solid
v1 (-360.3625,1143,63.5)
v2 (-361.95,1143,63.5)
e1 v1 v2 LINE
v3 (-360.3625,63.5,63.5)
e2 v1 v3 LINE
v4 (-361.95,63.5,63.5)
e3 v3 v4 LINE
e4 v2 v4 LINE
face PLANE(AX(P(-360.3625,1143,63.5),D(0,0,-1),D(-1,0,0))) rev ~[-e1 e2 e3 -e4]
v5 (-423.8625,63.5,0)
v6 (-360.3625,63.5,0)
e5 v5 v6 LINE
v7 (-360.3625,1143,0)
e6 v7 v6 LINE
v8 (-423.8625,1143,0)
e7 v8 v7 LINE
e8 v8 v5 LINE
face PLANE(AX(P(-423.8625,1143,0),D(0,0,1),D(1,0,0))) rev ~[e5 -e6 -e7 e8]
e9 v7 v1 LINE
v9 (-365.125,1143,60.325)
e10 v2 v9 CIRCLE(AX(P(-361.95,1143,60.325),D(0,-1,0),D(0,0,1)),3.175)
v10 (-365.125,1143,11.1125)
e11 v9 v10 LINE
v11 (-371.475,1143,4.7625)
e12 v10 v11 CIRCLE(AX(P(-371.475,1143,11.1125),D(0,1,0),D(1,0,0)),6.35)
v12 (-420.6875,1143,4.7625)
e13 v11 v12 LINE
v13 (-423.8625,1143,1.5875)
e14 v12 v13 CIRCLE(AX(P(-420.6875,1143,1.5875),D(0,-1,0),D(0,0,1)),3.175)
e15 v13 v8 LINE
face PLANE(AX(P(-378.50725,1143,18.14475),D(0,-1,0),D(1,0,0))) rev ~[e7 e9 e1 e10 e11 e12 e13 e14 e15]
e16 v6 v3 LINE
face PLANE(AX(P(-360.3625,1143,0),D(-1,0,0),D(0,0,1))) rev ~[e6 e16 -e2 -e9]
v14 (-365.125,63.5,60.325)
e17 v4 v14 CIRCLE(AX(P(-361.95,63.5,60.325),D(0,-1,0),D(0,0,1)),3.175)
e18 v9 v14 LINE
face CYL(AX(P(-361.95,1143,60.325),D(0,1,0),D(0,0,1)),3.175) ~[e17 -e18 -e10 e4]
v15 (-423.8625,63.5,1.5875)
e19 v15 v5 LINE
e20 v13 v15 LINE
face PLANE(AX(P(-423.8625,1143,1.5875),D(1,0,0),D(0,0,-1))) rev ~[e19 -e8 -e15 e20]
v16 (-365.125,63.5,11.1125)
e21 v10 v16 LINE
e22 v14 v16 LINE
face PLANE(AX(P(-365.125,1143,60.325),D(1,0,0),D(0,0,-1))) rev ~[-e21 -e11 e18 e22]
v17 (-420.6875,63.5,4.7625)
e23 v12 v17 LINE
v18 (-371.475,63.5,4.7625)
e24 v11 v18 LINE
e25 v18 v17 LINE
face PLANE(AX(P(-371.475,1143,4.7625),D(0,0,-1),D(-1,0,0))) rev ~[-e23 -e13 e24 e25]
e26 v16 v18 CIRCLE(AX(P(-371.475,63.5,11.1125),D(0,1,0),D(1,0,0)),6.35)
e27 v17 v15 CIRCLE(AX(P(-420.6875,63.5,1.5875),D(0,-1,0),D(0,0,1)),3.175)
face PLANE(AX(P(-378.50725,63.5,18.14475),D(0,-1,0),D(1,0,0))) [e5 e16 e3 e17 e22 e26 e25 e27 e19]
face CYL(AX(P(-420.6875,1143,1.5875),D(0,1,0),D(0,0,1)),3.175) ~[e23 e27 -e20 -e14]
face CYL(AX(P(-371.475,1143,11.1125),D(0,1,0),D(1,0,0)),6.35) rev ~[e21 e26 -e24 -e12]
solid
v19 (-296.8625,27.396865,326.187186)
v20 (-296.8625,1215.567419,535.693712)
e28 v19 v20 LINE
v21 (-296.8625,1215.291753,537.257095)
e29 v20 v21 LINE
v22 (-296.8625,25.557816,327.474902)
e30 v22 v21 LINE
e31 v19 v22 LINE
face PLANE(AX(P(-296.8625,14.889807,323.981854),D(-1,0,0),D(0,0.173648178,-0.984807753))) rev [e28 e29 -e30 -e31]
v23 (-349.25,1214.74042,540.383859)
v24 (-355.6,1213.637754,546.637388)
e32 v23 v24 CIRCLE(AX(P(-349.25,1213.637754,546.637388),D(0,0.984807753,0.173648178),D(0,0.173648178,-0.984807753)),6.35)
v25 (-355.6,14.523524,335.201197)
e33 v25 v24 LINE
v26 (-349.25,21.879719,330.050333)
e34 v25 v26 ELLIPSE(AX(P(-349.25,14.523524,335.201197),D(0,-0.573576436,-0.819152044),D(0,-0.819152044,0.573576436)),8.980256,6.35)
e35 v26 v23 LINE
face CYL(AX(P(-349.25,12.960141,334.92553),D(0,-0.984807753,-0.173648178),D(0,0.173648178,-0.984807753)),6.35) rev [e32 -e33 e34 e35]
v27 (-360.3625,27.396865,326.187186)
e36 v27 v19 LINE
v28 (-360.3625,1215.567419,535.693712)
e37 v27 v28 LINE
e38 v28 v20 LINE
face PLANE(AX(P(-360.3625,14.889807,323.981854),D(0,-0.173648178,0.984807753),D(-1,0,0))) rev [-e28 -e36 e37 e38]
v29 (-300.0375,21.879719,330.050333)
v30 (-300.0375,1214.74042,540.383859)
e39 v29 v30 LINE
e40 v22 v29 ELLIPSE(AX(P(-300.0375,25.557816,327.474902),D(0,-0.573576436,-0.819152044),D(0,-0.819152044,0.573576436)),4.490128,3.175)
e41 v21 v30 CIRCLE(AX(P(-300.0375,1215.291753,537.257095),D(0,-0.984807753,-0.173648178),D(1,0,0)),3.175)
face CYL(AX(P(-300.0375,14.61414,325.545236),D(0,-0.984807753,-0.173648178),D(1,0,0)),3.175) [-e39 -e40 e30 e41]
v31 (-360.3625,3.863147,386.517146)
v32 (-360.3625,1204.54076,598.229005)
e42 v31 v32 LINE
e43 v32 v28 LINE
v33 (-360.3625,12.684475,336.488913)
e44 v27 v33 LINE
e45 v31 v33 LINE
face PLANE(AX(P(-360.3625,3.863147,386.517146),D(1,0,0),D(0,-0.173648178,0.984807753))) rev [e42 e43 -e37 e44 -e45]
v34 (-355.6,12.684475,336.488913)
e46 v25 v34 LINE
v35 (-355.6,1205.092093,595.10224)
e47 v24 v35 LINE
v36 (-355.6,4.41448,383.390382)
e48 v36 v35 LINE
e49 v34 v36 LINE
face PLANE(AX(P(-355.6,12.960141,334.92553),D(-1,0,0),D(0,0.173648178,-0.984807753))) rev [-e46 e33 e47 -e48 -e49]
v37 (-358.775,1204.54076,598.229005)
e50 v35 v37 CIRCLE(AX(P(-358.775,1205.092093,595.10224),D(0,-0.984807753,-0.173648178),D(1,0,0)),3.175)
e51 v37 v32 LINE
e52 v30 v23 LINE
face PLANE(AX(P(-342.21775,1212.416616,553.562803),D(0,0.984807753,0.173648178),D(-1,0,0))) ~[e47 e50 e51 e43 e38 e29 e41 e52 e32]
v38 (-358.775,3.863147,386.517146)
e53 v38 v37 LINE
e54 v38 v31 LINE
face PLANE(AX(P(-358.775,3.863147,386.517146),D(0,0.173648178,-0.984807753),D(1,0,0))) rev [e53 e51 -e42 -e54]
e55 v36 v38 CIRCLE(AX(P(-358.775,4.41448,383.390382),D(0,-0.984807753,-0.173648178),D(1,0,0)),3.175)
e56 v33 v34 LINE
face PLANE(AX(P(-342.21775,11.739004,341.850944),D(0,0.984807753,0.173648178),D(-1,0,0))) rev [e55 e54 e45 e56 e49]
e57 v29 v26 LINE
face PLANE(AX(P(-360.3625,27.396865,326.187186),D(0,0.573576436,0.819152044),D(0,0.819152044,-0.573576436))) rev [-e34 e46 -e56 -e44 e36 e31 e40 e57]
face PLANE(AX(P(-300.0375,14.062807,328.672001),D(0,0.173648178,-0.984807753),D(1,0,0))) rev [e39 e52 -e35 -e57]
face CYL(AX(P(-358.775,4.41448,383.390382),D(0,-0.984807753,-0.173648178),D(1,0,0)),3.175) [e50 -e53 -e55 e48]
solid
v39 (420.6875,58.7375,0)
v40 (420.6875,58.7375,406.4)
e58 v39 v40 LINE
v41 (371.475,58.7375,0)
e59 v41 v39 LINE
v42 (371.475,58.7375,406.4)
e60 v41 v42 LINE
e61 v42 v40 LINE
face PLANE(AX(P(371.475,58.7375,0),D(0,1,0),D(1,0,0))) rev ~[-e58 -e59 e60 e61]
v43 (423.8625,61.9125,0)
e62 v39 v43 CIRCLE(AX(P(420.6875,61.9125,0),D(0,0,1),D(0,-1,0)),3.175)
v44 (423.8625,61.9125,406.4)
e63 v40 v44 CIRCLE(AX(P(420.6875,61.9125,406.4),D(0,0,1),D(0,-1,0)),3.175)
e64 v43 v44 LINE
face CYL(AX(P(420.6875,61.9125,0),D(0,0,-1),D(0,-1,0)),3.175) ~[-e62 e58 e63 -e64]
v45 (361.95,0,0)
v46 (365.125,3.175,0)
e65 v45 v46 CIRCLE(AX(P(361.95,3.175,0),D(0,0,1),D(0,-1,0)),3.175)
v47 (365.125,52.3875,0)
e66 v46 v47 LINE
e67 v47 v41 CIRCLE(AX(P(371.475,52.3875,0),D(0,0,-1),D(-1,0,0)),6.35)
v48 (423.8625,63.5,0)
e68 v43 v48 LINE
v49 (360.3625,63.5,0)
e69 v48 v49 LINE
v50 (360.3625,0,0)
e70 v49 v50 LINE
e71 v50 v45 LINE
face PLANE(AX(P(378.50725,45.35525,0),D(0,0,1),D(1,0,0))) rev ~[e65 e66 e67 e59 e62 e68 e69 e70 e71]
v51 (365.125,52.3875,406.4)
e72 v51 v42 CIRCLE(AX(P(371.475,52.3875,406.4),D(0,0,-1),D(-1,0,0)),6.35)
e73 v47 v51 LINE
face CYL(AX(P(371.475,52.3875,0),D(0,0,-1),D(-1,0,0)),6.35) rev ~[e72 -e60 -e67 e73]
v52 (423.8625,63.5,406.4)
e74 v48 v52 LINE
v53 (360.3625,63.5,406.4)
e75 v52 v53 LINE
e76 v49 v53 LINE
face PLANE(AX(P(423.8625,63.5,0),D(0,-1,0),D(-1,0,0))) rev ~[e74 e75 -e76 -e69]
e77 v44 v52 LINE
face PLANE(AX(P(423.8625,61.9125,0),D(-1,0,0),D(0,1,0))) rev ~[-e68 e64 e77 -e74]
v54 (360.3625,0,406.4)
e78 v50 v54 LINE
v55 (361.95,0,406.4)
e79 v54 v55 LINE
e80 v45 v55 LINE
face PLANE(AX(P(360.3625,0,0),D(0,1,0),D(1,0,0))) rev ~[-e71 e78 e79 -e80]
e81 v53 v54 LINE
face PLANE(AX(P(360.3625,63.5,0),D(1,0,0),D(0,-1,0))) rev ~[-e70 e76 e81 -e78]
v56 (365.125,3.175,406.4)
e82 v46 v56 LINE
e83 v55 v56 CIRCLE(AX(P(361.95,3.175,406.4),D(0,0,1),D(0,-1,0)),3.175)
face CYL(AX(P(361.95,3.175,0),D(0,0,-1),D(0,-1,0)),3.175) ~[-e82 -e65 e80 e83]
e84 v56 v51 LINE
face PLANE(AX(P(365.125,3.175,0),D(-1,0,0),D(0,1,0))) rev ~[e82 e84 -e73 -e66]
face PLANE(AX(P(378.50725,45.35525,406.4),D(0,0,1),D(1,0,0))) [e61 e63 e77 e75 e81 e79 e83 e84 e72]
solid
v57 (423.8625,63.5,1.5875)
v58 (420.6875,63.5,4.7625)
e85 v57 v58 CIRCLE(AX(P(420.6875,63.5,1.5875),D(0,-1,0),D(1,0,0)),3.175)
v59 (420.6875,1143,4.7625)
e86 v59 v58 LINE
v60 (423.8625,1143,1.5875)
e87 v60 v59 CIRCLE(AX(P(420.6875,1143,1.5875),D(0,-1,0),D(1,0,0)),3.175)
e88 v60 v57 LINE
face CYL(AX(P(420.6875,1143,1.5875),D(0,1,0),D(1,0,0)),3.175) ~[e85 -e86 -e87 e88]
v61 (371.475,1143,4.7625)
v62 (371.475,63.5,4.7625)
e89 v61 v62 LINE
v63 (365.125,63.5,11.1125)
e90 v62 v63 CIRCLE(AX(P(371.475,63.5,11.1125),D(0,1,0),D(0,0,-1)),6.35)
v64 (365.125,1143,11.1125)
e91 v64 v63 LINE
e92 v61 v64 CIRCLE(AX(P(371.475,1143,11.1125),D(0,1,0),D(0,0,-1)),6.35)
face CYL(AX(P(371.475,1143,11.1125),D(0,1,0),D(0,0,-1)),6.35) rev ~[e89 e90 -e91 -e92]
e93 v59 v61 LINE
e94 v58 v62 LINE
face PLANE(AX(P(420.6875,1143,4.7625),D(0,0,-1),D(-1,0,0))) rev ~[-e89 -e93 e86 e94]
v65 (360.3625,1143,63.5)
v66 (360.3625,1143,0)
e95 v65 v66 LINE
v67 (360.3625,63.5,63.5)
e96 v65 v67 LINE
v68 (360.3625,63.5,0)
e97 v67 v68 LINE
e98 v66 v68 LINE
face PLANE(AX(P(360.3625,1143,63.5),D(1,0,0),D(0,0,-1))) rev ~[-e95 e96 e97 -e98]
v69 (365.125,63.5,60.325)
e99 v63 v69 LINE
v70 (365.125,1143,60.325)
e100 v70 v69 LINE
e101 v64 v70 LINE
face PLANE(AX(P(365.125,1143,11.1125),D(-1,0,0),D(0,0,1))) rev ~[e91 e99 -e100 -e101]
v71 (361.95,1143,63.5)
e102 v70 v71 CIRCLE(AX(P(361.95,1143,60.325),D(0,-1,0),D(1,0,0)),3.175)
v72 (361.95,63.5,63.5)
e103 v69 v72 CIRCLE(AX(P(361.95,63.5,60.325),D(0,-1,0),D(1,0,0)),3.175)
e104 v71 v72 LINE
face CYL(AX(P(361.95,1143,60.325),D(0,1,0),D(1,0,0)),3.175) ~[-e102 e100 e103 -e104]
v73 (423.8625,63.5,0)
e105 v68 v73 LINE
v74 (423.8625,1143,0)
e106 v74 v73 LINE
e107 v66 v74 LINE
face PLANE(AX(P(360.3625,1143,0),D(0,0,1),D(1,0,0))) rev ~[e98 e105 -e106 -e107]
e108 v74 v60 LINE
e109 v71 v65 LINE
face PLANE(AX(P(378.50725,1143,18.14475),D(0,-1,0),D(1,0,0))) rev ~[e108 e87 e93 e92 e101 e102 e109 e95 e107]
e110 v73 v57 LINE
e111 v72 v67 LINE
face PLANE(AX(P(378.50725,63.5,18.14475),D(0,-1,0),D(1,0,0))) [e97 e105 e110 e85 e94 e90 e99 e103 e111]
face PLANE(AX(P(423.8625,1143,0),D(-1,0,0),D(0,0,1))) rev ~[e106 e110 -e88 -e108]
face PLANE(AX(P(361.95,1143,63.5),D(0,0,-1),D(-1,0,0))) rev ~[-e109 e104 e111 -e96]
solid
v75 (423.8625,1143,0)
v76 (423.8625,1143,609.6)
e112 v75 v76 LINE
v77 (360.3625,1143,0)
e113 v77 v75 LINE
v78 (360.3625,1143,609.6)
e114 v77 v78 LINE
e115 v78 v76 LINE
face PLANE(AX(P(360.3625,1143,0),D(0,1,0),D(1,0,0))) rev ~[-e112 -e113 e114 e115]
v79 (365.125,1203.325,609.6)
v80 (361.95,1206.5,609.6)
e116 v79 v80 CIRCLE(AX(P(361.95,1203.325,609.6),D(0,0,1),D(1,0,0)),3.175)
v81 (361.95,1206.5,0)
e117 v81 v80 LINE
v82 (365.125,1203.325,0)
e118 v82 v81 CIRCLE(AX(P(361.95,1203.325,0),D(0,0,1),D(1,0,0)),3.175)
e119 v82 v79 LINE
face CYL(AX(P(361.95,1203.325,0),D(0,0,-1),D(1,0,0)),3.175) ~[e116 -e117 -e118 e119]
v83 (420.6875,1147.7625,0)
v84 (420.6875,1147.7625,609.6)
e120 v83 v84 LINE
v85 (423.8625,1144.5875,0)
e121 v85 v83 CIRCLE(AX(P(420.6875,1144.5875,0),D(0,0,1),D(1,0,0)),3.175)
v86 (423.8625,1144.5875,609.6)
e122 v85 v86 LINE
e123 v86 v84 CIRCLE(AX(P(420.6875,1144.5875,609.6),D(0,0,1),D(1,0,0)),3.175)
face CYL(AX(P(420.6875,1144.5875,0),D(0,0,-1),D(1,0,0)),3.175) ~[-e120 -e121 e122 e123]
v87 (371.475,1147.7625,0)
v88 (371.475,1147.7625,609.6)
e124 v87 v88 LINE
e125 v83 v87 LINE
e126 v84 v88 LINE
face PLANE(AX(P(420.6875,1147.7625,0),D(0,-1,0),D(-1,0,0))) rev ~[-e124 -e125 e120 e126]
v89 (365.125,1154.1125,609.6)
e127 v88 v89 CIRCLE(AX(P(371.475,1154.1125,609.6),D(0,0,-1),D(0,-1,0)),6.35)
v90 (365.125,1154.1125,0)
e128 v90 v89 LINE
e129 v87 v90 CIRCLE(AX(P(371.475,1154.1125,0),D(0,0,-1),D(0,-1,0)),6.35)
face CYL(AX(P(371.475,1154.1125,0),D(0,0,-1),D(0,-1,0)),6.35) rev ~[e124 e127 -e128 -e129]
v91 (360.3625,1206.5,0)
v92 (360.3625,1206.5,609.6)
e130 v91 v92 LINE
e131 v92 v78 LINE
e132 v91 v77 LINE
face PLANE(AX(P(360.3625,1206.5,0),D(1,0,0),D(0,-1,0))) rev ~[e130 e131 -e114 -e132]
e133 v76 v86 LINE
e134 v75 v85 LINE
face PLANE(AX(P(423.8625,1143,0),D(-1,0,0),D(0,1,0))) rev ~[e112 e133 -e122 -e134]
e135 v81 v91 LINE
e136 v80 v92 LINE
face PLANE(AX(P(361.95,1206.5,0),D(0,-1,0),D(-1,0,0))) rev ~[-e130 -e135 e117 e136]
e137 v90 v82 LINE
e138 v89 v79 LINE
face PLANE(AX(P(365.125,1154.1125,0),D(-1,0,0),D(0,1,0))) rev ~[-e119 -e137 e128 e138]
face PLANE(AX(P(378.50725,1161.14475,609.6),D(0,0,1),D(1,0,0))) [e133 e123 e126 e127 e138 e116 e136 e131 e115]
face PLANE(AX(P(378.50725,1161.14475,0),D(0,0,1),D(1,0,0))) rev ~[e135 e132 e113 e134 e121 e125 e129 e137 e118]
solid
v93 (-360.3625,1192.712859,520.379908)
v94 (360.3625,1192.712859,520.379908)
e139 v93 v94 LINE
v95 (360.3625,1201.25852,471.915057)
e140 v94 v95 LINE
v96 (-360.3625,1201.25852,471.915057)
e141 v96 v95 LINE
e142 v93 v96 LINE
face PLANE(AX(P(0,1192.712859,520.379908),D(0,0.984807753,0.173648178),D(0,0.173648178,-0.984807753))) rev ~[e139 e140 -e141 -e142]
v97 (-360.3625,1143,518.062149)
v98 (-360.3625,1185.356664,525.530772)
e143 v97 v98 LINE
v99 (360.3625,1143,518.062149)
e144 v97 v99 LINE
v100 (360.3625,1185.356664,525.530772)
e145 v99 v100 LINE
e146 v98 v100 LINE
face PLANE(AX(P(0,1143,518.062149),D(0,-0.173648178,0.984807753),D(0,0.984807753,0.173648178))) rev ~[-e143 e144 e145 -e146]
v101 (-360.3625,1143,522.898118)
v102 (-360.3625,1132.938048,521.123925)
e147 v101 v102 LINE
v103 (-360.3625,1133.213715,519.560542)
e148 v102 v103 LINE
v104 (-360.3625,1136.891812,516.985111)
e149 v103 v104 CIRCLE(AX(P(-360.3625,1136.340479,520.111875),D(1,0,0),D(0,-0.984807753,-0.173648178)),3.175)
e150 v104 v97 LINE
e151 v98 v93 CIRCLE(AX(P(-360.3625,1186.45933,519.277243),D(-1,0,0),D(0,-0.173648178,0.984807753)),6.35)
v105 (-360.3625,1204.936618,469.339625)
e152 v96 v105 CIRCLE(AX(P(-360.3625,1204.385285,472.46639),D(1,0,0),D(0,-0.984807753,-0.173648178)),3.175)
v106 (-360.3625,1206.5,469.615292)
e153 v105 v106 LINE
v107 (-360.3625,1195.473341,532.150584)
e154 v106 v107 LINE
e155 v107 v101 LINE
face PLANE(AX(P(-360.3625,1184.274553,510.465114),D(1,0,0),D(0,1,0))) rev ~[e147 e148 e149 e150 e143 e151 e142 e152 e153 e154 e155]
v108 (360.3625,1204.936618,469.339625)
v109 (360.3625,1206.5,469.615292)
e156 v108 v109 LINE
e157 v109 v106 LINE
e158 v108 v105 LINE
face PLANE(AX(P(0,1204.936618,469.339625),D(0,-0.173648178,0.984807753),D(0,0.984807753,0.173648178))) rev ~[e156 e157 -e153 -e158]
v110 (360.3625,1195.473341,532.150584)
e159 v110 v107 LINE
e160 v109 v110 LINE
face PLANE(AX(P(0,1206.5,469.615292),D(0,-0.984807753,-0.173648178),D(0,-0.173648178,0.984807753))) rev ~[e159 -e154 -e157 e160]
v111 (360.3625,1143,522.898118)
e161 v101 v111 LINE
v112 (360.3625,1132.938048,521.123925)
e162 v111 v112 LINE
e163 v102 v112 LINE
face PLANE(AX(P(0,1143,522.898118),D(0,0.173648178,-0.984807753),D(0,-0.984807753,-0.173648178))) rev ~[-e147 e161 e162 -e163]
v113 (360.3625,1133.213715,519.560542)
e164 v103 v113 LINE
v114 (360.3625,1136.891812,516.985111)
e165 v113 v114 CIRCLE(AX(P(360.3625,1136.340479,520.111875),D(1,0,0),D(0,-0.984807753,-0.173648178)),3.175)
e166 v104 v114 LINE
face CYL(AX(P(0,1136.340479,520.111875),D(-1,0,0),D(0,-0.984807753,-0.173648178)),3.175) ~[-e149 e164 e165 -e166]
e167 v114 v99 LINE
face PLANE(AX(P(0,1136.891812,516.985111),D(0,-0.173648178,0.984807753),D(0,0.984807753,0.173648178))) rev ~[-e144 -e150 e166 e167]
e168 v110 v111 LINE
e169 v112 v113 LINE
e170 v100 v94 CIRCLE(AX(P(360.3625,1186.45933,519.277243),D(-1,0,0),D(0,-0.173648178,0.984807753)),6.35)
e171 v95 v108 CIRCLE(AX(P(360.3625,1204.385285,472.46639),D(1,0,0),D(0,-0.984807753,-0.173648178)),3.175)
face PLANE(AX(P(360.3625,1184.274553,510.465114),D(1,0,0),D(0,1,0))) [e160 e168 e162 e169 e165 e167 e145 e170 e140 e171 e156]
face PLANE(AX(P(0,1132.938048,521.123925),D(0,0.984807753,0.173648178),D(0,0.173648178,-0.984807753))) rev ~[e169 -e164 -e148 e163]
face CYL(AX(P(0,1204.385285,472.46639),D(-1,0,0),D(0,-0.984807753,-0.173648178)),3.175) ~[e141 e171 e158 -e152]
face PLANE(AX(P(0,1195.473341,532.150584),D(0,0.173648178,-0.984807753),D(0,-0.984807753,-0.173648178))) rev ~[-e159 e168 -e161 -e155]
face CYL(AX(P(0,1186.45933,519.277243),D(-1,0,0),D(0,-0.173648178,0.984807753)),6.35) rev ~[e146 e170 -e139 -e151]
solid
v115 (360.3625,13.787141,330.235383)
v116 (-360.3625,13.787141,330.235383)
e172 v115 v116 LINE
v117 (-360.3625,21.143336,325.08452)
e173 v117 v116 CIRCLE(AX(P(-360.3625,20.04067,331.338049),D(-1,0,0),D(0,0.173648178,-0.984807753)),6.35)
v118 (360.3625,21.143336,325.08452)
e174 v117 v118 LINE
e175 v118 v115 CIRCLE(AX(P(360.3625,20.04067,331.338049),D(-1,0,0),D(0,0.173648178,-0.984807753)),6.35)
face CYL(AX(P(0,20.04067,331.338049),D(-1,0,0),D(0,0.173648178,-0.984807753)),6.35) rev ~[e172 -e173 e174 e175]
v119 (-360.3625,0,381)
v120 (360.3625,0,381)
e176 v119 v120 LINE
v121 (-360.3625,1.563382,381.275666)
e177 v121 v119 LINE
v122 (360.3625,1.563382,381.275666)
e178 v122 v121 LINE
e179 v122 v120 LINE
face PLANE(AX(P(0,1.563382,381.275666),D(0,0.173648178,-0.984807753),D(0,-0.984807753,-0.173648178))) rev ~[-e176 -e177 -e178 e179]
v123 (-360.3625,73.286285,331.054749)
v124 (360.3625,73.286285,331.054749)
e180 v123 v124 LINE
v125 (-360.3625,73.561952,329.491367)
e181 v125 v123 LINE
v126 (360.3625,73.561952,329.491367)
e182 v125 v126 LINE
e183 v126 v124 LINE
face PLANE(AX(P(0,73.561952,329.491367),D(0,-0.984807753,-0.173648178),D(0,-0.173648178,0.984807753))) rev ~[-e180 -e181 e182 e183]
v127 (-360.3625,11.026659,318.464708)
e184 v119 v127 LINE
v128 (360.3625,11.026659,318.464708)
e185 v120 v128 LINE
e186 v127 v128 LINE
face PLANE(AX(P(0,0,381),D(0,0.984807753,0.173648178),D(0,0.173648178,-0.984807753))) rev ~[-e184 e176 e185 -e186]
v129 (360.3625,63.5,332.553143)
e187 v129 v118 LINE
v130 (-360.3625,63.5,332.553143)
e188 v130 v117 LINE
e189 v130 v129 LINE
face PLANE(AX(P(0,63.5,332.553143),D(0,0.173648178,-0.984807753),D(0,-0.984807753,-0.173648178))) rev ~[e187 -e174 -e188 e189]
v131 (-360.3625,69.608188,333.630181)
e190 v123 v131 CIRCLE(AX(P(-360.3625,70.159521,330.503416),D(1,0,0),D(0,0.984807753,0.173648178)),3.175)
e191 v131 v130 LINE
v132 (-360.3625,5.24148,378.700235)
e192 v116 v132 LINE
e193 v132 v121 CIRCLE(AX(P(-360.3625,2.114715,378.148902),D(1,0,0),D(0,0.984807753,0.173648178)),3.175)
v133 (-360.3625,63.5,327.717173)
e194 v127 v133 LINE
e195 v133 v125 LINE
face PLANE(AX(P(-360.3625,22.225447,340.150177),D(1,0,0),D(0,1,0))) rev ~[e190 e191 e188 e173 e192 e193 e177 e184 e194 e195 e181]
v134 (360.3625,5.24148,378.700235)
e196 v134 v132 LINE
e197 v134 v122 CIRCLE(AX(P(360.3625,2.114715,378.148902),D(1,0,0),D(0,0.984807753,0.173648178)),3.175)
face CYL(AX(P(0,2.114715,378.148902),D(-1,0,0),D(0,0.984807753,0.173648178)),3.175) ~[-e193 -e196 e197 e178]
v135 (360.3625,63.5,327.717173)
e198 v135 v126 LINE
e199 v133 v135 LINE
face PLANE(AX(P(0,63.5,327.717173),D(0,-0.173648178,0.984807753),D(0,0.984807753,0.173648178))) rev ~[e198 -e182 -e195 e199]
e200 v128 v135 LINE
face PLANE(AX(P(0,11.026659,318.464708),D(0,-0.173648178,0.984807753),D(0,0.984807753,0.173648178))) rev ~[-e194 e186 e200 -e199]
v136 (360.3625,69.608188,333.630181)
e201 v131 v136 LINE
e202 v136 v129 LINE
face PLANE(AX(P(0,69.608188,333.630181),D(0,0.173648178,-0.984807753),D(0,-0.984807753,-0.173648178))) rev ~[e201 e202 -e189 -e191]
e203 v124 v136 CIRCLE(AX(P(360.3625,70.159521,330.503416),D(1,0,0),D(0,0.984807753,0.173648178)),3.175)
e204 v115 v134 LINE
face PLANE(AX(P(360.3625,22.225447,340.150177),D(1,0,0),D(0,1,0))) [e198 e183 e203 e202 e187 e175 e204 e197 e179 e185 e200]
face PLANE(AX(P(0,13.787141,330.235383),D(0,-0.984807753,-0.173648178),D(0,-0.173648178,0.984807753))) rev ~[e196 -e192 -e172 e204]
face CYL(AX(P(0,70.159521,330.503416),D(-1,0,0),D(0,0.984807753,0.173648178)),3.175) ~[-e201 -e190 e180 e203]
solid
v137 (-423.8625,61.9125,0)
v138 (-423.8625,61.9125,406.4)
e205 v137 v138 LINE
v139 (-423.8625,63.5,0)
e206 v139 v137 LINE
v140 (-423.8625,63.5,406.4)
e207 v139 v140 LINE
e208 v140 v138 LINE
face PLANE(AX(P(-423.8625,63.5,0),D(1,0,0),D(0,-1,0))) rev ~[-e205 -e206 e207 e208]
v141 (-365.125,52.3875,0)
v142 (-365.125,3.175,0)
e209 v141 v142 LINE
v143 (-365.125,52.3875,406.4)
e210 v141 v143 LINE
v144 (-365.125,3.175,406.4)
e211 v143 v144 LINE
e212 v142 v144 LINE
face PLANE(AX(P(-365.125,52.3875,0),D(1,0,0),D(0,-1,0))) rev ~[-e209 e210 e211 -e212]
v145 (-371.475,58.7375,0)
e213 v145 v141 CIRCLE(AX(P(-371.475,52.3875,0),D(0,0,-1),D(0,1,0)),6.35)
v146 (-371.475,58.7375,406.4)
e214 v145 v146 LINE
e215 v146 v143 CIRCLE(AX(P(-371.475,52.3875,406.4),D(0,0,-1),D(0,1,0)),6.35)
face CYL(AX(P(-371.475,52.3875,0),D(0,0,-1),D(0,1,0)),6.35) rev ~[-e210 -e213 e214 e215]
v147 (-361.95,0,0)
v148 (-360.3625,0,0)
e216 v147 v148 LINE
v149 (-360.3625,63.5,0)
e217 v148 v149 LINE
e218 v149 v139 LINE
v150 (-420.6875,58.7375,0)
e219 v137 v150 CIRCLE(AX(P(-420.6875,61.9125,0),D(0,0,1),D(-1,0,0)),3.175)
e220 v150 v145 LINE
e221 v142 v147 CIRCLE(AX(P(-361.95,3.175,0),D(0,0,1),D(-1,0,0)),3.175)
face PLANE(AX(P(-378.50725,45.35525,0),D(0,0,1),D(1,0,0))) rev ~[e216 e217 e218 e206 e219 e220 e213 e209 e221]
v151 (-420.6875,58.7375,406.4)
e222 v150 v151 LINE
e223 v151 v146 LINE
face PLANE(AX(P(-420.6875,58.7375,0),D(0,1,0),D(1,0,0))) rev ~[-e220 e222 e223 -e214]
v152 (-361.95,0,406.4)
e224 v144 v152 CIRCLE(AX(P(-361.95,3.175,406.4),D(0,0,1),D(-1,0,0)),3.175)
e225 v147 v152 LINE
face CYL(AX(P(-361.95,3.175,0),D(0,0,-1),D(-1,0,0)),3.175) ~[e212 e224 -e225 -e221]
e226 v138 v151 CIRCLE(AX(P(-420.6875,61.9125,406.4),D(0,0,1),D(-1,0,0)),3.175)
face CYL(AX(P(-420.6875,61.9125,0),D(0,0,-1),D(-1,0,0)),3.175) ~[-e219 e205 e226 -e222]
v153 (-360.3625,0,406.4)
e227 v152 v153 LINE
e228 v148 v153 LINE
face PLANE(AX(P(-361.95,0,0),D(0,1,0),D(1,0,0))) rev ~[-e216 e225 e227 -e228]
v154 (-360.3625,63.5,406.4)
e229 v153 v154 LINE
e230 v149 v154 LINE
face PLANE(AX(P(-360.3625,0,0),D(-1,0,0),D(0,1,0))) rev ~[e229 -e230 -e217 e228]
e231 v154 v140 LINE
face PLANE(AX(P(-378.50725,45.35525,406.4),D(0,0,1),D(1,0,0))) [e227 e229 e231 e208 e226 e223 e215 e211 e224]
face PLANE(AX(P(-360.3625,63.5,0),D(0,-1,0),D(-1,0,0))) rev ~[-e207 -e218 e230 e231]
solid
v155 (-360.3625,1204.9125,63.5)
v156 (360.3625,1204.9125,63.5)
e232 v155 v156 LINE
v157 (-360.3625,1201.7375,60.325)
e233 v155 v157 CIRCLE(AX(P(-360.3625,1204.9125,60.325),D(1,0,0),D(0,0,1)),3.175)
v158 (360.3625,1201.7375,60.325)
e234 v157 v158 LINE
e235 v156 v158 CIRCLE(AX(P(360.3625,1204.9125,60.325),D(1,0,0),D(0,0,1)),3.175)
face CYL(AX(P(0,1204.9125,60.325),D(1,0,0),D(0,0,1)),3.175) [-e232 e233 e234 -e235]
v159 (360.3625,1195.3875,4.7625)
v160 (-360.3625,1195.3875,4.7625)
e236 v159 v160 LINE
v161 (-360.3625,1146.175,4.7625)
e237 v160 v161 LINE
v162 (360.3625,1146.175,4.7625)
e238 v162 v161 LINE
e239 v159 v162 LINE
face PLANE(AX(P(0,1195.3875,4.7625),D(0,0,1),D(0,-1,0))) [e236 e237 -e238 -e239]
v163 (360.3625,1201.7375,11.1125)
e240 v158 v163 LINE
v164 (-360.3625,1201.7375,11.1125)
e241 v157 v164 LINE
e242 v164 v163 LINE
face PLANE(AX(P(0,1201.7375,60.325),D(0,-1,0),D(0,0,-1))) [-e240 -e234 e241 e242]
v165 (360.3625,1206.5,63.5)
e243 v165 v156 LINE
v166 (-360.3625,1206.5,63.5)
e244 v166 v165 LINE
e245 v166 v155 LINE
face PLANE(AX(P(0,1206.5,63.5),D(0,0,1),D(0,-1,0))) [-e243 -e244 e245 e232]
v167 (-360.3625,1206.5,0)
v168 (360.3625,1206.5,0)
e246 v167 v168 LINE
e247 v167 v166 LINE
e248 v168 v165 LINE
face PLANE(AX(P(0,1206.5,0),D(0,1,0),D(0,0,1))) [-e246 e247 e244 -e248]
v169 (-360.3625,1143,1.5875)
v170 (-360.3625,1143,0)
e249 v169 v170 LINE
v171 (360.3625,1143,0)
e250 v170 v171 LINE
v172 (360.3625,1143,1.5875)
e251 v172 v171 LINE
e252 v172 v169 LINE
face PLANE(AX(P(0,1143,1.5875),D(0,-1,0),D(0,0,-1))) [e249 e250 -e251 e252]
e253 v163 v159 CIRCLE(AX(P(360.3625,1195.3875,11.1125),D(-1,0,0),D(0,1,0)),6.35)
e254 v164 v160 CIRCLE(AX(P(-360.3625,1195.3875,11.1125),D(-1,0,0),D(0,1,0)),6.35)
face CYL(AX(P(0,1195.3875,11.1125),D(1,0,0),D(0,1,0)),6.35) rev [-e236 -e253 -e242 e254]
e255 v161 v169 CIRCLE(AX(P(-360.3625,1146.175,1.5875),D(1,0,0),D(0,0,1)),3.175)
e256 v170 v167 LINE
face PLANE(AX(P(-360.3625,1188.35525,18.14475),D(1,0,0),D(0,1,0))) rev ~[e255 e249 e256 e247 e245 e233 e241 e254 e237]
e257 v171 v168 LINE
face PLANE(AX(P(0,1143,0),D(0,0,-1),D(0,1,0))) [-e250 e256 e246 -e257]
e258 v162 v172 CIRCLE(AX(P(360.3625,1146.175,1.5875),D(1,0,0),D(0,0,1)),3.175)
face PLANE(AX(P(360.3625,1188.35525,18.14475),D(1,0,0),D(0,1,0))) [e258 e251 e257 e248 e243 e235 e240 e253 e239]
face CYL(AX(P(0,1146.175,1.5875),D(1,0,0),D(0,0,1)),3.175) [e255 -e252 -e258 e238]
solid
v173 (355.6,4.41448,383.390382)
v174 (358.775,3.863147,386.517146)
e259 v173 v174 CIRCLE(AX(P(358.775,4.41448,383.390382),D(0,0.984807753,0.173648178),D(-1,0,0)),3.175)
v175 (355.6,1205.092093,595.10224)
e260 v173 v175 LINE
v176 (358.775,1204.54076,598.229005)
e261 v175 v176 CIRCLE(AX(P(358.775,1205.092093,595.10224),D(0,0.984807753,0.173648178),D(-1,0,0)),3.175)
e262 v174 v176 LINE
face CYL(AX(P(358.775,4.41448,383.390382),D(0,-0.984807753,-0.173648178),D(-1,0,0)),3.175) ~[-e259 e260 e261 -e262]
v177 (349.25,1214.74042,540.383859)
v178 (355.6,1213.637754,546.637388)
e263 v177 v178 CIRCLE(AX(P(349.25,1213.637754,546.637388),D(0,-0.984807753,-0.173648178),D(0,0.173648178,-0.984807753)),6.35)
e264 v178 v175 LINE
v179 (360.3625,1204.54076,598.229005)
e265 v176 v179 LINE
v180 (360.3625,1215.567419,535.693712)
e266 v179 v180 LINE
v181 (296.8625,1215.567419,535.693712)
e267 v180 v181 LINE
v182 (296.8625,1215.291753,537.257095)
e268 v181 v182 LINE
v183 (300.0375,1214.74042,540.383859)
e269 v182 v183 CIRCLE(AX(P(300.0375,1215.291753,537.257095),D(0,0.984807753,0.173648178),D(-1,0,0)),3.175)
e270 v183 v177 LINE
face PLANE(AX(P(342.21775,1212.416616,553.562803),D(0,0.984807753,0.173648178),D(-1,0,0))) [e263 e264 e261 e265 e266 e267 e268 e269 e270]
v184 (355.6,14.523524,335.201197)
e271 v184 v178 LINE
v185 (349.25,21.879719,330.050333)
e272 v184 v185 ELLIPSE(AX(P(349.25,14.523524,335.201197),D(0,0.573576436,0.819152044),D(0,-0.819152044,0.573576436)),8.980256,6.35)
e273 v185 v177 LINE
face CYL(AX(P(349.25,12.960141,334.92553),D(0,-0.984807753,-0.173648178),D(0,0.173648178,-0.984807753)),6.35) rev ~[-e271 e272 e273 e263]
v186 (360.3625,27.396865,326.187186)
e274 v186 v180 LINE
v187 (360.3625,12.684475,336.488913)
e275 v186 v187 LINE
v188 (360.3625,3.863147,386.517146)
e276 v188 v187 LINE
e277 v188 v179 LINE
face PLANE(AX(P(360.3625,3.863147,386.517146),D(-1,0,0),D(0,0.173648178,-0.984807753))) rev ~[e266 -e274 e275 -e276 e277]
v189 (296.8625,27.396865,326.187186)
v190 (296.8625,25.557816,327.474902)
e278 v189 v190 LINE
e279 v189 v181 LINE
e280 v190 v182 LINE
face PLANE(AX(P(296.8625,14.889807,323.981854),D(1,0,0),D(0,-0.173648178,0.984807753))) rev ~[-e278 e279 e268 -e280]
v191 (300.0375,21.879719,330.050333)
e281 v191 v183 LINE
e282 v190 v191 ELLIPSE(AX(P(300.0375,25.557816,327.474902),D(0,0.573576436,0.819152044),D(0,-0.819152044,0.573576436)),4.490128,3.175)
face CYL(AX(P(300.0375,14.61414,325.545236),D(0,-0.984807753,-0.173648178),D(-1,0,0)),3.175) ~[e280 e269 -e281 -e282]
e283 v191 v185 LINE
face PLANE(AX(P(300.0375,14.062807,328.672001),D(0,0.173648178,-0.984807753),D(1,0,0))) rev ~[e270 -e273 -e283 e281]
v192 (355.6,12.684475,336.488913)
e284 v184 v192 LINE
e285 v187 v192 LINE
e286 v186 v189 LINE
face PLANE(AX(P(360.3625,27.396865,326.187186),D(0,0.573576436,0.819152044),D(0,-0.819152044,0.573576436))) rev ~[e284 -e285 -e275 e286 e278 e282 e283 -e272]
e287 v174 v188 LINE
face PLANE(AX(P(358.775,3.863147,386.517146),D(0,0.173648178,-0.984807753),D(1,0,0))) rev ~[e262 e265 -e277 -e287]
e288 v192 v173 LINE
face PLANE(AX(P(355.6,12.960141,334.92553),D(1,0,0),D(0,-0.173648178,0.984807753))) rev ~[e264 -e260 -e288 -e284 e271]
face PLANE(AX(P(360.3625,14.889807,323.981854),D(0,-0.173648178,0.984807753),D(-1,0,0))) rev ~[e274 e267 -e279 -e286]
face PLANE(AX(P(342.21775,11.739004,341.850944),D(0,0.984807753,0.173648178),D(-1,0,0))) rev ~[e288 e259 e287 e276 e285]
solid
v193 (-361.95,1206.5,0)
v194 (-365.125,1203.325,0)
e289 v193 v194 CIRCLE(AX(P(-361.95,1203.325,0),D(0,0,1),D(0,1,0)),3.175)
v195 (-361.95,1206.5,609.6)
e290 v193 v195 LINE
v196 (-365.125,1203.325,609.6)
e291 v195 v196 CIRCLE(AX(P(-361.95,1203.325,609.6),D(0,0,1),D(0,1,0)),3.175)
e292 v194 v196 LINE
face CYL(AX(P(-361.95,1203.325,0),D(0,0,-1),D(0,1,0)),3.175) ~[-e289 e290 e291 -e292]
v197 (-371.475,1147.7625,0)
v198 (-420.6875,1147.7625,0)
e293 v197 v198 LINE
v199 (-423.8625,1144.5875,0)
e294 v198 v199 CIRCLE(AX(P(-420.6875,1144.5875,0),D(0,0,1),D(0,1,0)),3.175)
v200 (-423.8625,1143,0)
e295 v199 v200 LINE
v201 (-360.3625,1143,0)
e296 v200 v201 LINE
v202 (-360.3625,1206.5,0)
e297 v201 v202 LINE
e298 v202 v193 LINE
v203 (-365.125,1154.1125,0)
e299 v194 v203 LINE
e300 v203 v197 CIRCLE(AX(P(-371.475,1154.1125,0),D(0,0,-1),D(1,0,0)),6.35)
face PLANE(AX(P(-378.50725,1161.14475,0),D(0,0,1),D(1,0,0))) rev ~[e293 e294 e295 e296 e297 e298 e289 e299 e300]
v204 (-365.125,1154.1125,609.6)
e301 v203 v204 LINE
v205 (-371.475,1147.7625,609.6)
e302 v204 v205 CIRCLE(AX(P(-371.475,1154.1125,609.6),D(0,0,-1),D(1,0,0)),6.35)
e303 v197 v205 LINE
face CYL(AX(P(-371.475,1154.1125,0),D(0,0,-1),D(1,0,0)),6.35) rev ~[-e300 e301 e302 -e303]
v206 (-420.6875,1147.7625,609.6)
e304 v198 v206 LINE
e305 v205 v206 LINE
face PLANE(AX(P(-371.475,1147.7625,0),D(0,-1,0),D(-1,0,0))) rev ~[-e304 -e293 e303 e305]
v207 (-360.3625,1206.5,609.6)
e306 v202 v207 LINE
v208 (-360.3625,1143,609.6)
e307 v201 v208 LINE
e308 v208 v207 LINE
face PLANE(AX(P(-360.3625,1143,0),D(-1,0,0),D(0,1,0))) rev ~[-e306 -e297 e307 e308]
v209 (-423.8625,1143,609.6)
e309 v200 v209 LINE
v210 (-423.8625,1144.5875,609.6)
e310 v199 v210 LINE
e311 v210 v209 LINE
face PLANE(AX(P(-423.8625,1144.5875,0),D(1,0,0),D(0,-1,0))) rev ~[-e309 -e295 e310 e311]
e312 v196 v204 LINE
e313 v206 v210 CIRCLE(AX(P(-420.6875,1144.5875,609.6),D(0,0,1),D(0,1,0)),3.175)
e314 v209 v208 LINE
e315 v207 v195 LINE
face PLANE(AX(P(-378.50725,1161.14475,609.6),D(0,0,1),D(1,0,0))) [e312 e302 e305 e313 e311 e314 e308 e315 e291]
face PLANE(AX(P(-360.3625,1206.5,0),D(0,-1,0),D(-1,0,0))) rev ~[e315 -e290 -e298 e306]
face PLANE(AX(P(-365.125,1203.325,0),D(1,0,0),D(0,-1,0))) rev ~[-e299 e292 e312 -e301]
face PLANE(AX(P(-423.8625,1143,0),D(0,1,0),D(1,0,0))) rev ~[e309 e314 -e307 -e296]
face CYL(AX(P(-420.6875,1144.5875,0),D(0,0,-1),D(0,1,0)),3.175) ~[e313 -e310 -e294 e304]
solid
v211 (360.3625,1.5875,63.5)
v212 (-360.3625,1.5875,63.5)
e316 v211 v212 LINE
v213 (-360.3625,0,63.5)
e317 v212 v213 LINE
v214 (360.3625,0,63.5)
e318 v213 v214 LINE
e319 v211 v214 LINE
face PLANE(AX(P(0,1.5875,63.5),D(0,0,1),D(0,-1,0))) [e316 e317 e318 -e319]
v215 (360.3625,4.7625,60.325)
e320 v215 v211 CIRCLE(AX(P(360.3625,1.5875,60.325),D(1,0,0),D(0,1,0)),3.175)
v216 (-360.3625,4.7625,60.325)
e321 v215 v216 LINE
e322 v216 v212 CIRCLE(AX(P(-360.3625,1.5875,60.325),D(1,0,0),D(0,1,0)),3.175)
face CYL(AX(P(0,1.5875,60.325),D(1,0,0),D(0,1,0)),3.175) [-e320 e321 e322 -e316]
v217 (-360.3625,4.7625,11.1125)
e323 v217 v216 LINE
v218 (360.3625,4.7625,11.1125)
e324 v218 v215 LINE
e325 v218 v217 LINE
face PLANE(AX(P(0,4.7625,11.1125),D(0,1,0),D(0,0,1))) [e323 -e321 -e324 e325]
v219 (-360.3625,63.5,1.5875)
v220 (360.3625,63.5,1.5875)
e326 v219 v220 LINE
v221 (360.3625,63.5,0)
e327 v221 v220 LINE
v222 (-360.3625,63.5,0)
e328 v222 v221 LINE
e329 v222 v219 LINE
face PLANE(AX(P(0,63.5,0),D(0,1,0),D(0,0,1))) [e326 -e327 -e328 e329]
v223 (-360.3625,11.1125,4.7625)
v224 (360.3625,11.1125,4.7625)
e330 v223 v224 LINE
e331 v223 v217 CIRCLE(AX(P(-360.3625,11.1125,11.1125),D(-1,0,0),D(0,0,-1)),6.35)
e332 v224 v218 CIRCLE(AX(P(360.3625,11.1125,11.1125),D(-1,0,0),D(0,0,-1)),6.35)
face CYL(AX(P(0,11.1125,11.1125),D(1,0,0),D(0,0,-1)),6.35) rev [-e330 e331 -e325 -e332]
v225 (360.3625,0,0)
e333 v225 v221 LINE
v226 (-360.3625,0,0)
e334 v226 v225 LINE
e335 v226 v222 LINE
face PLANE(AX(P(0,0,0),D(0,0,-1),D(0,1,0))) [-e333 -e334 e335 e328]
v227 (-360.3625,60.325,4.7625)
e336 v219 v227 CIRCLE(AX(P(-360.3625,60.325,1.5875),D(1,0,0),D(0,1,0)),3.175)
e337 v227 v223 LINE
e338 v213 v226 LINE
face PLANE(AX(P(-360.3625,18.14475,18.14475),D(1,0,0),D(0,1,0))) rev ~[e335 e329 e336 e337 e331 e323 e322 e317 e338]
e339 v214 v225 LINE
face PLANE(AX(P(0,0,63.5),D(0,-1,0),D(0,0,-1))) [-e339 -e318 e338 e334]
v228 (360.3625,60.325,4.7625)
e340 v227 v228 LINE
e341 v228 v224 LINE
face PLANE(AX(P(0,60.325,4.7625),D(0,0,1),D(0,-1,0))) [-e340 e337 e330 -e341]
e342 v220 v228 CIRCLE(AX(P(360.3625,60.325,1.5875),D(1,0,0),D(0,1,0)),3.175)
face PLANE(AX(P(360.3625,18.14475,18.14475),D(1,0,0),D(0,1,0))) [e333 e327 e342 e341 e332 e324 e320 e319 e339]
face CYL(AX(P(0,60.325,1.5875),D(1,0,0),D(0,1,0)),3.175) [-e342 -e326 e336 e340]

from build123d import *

# Parameters (mm, degrees)
F2_DEPTH       = 406.4
F3_DEPTH       = 609.6
F4_DEPTH       = 360.3625
F4_DEPTH_BACK  = 360.3625
F6_DEPTH       = 1219.2
F8_DEPTH       = 784.226
F11_DEPTH      = 360.3625
F11_DEPTH_BACK = 360.3625
F13_DEPTH      = 1079.5


with BuildPart() as f2:
    # F1 (on Top) → F2 (new body)
    with BuildSketch(Plane.XY):
        with BuildLine():
            ThreePointArc((-365.125, 3.175), (-364.1950640303, 0.9299359697), (-361.95, 0))
            Line((-361.95, 0), (-360.3625, 0))
            Line((-360.3625, 0), (-360.3625, 63.5))
            Line((-360.3625, 63.5), (-423.8625, 63.5))
            Line((-423.8625, 63.5), (-423.8625, 61.9125))
            ThreePointArc((-423.8625, 61.9125), (-422.9325640303, 59.6674359697), (-420.6875, 58.7375))
            Line((-420.6875, 58.7375), (-371.475, 58.7375))
            ThreePointArc((-371.475, 58.7375), (-366.9848719395, 56.8776280605), (-365.125, 52.3875))
            Line((-365.125, 52.3875), (-365.125, 3.175))
        make_face()
    extrude(amount=F2_DEPTH)


with BuildPart() as f2b:
    # F1 (on Top) → F2, piece 2 (new body)
    with BuildSketch(Plane.XY):
        with BuildLine():
            Line((360.3625, 63.5), (360.3625, 0))
            Line((360.3625, 0), (361.95, 0))
            ThreePointArc((361.95, 0), (364.1950640303, 0.9299359697), (365.125, 3.175))
            Line((365.125, 3.175), (365.125, 52.3875))
            ThreePointArc((365.125, 52.3875), (366.9848719395, 56.8776280605), (371.475, 58.7375))
            Line((371.475, 58.7375), (420.6875, 58.7375))
            ThreePointArc((420.6875, 58.7375), (422.9325640303, 59.6674359697), (423.8625, 61.9125))
            Line((423.8625, 61.9125), (423.8625, 63.5))
            Line((423.8625, 63.5), (360.3625, 63.5))
        make_face()
    extrude(amount=F2_DEPTH)


with BuildPart() as f3:
    # F1 (on Top) → F3 (new body)
    with BuildSketch(Plane.XY):
        with BuildLine():
            Line((-360.3625, 1206.5), (-361.95, 1206.5))
            ThreePointArc((-361.95, 1206.5), (-364.1950640303, 1205.5700640303), (-365.125, 1203.325))
            Line((-365.125, 1203.325), (-365.125, 1154.1125))
            ThreePointArc((-365.125, 1154.1125), (-366.9848719395, 1149.6223719395), (-371.475, 1147.7625))
            Line((-371.475, 1147.7625), (-420.6875, 1147.7625))
            ThreePointArc((-420.6875, 1147.7625), (-422.9325640303, 1146.8325640303), (-423.8625, 1144.5875))
            Line((-423.8625, 1144.5875), (-423.8625, 1143))
            Line((-423.8625, 1143), (-360.3625, 1143))
            Line((-360.3625, 1143), (-360.3625, 1206.5))
        make_face()
    extrude(amount=F3_DEPTH)


with BuildPart() as f3b:
    # F1 (on Top) → F3, piece 2 (new body)
    with BuildSketch(Plane.XY):
        with BuildLine():
            ThreePointArc((365.125, 1203.325), (364.1950640303, 1205.5700640303), (361.95, 1206.5))
            Line((361.95, 1206.5), (360.3625, 1206.5))
            Line((360.3625, 1206.5), (360.3625, 1143))
            Line((360.3625, 1143), (423.8625, 1143))
            Line((423.8625, 1143), (423.8625, 1144.5875))
            ThreePointArc((423.8625, 1144.5875), (422.9325640303, 1146.8325640303), (420.6875, 1147.7625))
            Line((420.6875, 1147.7625), (371.475, 1147.7625))
            ThreePointArc((371.475, 1147.7625), (366.9848719395, 1149.6223719395), (365.125, 1154.1125))
            Line((365.125, 1154.1125), (365.125, 1203.325))
        make_face()
    extrude(amount=F3_DEPTH)


with BuildPart() as f4:
    # F0 (on Right) → F4 (new body, two sides)
    with BuildSketch(Plane.YZ) as f4_sk:
        with BuildLine():
            Line((1.5633823079, 381.275666482), (0, 381))
            Line((0, 381), (11.0266592819, 318.4647076837))
            Line((11.0266592818, 318.4647076837), (63.5, 327.7171734202))
            Line((63.5, 327.7171734202), (63.5, 332.5531426593))
            Line((63.5, 332.5531426593), (21.1433359911, 325.0845199818))
            ThreePointArc((21.1433359911, 325.0845199818), (16.398459692, 326.1364337322), (13.7871408312, 330.2353832852))
            Line((13.7871408312, 330.2353832852), (5.2414798878, 378.7002348303))
            ThreePointArc((5.2414798878, 378.7002348303), (3.9358204574, 380.7497096069), (1.5633823079, 381.275666482))
        make_face()
        with BuildLine():
            Line((63.5, 332.5531426593), (63.5, 327.7171734202))
            Line((63.5, 327.7171734202), (73.5619515981, 329.4913669656))
            Line((73.5619515981, 329.4913669656), (73.2862851161, 331.0547492735))
            ThreePointArc((73.2862851161, 331.0547492735), (71.9806256857, 333.10422405), (69.6081875362, 333.6301809252))
            Line((69.6081875362, 333.6301809252), (63.5, 332.5531426593))
        make_face()
    extrude(amount=-F4_DEPTH)
    extrude(f4_sk.sketch, amount=F4_DEPTH_BACK)


with BuildPart() as f4b:
    # F0 (on Right) → F4, piece 2 (new body, two sides)
    with BuildSketch(Plane.YZ) as f4_2_sk:
        with BuildLine():
            Line((1195.4733407181, 532.1505840707), (1143, 522.8981183341))
            Line((1143, 522.8981183341), (1143, 518.062149095))
            Line((1143, 518.062149095), (1185.3566640089, 525.5307717726))
            ThreePointArc((1185.3566640089, 525.5307717726), (1190.101540308, 524.4788580222), (1192.7128591688, 520.3799084692))
            Line((1192.7128591688, 520.3799084692), (1201.2585201122, 471.9150569241))
            ThreePointArc((1201.2585201122, 471.9150569241), (1202.5641795426, 469.8655821475), (1204.9366176921, 469.3396252723))
            Line((1204.9366176921, 469.3396252723), (1206.5, 469.6152917544))
            Line((1206.5, 469.6152917544), (1195.4733407181, 532.1505840707))
        make_face()
        with BuildLine():
            Line((1143, 522.8981183341), (1132.9380484019, 521.1239247888))
            Line((1132.9380484019, 521.1239247888), (1133.2137148839, 519.5605424809))
            ThreePointArc((1133.2137148839, 519.5605424809), (1134.5193743143, 517.5110677044), (1136.8918124638, 516.9851108292))
            Line((1136.8918124638, 516.9851108292), (1143, 518.062149095))
            Line((1143, 518.062149095), (1143, 522.8981183341))
        make_face()
    extrude(amount=-F4_DEPTH)
    extrude(f4_2_sk.sketch, amount=F4_DEPTH_BACK)


with BuildPart() as f6:
    # F5 (on face) → F6 (new body)
    with BuildSketch(Plane(origin=(0, 69.8449842273, 12.3155551864), x_dir=(-1, 0, 0), z_dir=(0, 0.984807753, 0.1736481777))):
        with BuildLine():
            Line((-358.775, 379.9742538977), (-360.3625, 379.9742538977))
            Line((-360.3625, 379.9742538977), (-360.3625, 316.4742538977))
            Line((-360.3625, 316.4742538977), (-296.8625, 316.4742538977))
            Line((-296.8625, 316.4742538977), (-296.8625, 318.0617538977))
            ThreePointArc((-296.8625, 318.0617538977), (-297.7924359697, 320.3068179279), (-300.0375, 321.2367538977))
            Line((-300.0375, 321.2367538977), (-349.25, 321.2367538977))
            ThreePointArc((-349.25, 321.2367538977), (-353.7401280605, 323.0966258371), (-355.6, 327.5867538977))
            Line((-355.6, 327.5867538977), (-355.6, 376.7992538977))
            ThreePointArc((-355.6, 376.7992538977), (-356.5299359697, 379.0443179279), (-358.775, 379.9742538977))
        make_face()
    extrude(amount=F6_DEPTH)

    # F7 (on face) → F8 (cut, through all)
    with BuildSketch(Plane.YZ.offset(360.3625)):
        Polygon((12.6844749031, 336.4889125168), (14.8898067594, 323.9818540536), (27.3968652227, 326.18718591), align=None)
    extrude(amount=-F8_DEPTH, mode=Mode.SUBTRACT)


with BuildPart() as f9_1:
    # F9: instance of F6
    add(f6.part.mirror(Plane.YZ))


with BuildPart() as f11:
    # F10 (on Right) → F11 (new body, two sides)
    with BuildSketch(Plane.YZ) as f11_sk:
        with BuildLine():
            Line((1.5875, 63.5), (0, 63.5))
            Line((0, 63.5), (0, 0))
            Line((0, 0), (63.5, 0))
            Line((63.5, 0), (63.5, 1.5875))
            ThreePointArc((63.5, 1.5875), (62.5700640303, 3.8325640303), (60.325, 4.7625))
            Line((60.325, 4.7625), (11.1125, 4.7625))
            ThreePointArc((11.1125, 4.7625), (6.6223719395, 6.6223719395), (4.7625, 11.1125))
            Line((4.7625, 11.1125), (4.7625, 60.325))
            ThreePointArc((4.7625, 60.325), (3.8325640303, 62.5700640303), (1.5875, 63.5))
        make_face()
    extrude(amount=F11_DEPTH)
    extrude(f11_sk.sketch, amount=-F11_DEPTH_BACK)


with BuildPart() as f11b:
    # F10 (on Right) → F11, piece 2 (new body, two sides)
    with BuildSketch(Plane.YZ) as f11_2_sk:
        with BuildLine():
            Line((1143, 1.5875), (1143, 0))
            Line((1143, 0), (1206.5, 0))
            Line((1206.5, 0), (1206.5, 63.5))
            Line((1206.5, 63.5), (1204.9125, 63.5))
            ThreePointArc((1204.9125, 63.5), (1202.6674359697, 62.5700640303), (1201.7375, 60.325))
            Line((1201.7375, 60.325), (1201.7375, 11.1125))
            ThreePointArc((1201.7375, 11.1125), (1199.8776280605, 6.6223719395), (1195.3875, 4.7625))
            Line((1195.3875, 4.7625), (1146.175, 4.7625))
            ThreePointArc((1146.175, 4.7625), (1143.9299359697, 3.8325640303), (1143, 1.5875))
        make_face()
    extrude(amount=F11_DEPTH)
    extrude(f11_2_sk.sketch, amount=-F11_DEPTH_BACK)


with BuildPart() as f13:
    # F12 (on face) → F13 (new body, through all)
    with BuildSketch(Plane.XZ.offset(-1143)):
        with BuildLine():
            Line((361.95, 63.5), (360.3625, 63.5))
            Line((360.3625, 63.5), (360.3625, 0))
            Line((360.3625, 0), (423.8625, 0))
            Line((423.8625, 0), (423.8625, 1.5875))
            ThreePointArc((423.8625, 1.5875), (422.9325640303, 3.8325640303), (420.6875, 4.7625))
            Line((420.6875, 4.7625), (371.475, 4.7625))
            ThreePointArc((371.475, 4.7625), (366.9848719395, 6.6223719395), (365.125, 11.1125))
            Line((365.125, 11.1125), (365.125, 60.325))
            ThreePointArc((365.125, 60.325), (364.1950640303, 62.5700640303), (361.95, 63.5))
        make_face()
    extrude(amount=F13_DEPTH)


with BuildPart() as f13b:
    # F12 (on face) → F13, piece 2 (new body, through all)
    with BuildSketch(Plane.XZ.offset(-1143)):
        with BuildLine():
            Line((-423.8625, 1.5875), (-423.8625, 0))
            Line((-423.8625, 0), (-360.3625, 0))
            Line((-360.3625, 0), (-360.3625, 63.5))
            Line((-360.3625, 63.5), (-361.95, 63.5))
            ThreePointArc((-361.95, 63.5), (-364.1950640303, 62.5700640303), (-365.125, 60.325))
            Line((-365.125, 60.325), (-365.125, 11.1125))
            ThreePointArc((-365.125, 11.1125), (-366.9848719395, 6.6223719395), (-371.475, 4.7625))
            Line((-371.475, 4.7625), (-420.6875, 4.7625))
            ThreePointArc((-420.6875, 4.7625), (-422.9325640303, 3.8325640303), (-423.8625, 1.5875))
        make_face()
    extrude(amount=F13_DEPTH)


solid = Compound([f2.part, f2b.part, f3.part, f3b.part, f4.part, f4b.part, f6.part, f9_1.part, f11.part, f11b.part, f13.part, f13b.part])
